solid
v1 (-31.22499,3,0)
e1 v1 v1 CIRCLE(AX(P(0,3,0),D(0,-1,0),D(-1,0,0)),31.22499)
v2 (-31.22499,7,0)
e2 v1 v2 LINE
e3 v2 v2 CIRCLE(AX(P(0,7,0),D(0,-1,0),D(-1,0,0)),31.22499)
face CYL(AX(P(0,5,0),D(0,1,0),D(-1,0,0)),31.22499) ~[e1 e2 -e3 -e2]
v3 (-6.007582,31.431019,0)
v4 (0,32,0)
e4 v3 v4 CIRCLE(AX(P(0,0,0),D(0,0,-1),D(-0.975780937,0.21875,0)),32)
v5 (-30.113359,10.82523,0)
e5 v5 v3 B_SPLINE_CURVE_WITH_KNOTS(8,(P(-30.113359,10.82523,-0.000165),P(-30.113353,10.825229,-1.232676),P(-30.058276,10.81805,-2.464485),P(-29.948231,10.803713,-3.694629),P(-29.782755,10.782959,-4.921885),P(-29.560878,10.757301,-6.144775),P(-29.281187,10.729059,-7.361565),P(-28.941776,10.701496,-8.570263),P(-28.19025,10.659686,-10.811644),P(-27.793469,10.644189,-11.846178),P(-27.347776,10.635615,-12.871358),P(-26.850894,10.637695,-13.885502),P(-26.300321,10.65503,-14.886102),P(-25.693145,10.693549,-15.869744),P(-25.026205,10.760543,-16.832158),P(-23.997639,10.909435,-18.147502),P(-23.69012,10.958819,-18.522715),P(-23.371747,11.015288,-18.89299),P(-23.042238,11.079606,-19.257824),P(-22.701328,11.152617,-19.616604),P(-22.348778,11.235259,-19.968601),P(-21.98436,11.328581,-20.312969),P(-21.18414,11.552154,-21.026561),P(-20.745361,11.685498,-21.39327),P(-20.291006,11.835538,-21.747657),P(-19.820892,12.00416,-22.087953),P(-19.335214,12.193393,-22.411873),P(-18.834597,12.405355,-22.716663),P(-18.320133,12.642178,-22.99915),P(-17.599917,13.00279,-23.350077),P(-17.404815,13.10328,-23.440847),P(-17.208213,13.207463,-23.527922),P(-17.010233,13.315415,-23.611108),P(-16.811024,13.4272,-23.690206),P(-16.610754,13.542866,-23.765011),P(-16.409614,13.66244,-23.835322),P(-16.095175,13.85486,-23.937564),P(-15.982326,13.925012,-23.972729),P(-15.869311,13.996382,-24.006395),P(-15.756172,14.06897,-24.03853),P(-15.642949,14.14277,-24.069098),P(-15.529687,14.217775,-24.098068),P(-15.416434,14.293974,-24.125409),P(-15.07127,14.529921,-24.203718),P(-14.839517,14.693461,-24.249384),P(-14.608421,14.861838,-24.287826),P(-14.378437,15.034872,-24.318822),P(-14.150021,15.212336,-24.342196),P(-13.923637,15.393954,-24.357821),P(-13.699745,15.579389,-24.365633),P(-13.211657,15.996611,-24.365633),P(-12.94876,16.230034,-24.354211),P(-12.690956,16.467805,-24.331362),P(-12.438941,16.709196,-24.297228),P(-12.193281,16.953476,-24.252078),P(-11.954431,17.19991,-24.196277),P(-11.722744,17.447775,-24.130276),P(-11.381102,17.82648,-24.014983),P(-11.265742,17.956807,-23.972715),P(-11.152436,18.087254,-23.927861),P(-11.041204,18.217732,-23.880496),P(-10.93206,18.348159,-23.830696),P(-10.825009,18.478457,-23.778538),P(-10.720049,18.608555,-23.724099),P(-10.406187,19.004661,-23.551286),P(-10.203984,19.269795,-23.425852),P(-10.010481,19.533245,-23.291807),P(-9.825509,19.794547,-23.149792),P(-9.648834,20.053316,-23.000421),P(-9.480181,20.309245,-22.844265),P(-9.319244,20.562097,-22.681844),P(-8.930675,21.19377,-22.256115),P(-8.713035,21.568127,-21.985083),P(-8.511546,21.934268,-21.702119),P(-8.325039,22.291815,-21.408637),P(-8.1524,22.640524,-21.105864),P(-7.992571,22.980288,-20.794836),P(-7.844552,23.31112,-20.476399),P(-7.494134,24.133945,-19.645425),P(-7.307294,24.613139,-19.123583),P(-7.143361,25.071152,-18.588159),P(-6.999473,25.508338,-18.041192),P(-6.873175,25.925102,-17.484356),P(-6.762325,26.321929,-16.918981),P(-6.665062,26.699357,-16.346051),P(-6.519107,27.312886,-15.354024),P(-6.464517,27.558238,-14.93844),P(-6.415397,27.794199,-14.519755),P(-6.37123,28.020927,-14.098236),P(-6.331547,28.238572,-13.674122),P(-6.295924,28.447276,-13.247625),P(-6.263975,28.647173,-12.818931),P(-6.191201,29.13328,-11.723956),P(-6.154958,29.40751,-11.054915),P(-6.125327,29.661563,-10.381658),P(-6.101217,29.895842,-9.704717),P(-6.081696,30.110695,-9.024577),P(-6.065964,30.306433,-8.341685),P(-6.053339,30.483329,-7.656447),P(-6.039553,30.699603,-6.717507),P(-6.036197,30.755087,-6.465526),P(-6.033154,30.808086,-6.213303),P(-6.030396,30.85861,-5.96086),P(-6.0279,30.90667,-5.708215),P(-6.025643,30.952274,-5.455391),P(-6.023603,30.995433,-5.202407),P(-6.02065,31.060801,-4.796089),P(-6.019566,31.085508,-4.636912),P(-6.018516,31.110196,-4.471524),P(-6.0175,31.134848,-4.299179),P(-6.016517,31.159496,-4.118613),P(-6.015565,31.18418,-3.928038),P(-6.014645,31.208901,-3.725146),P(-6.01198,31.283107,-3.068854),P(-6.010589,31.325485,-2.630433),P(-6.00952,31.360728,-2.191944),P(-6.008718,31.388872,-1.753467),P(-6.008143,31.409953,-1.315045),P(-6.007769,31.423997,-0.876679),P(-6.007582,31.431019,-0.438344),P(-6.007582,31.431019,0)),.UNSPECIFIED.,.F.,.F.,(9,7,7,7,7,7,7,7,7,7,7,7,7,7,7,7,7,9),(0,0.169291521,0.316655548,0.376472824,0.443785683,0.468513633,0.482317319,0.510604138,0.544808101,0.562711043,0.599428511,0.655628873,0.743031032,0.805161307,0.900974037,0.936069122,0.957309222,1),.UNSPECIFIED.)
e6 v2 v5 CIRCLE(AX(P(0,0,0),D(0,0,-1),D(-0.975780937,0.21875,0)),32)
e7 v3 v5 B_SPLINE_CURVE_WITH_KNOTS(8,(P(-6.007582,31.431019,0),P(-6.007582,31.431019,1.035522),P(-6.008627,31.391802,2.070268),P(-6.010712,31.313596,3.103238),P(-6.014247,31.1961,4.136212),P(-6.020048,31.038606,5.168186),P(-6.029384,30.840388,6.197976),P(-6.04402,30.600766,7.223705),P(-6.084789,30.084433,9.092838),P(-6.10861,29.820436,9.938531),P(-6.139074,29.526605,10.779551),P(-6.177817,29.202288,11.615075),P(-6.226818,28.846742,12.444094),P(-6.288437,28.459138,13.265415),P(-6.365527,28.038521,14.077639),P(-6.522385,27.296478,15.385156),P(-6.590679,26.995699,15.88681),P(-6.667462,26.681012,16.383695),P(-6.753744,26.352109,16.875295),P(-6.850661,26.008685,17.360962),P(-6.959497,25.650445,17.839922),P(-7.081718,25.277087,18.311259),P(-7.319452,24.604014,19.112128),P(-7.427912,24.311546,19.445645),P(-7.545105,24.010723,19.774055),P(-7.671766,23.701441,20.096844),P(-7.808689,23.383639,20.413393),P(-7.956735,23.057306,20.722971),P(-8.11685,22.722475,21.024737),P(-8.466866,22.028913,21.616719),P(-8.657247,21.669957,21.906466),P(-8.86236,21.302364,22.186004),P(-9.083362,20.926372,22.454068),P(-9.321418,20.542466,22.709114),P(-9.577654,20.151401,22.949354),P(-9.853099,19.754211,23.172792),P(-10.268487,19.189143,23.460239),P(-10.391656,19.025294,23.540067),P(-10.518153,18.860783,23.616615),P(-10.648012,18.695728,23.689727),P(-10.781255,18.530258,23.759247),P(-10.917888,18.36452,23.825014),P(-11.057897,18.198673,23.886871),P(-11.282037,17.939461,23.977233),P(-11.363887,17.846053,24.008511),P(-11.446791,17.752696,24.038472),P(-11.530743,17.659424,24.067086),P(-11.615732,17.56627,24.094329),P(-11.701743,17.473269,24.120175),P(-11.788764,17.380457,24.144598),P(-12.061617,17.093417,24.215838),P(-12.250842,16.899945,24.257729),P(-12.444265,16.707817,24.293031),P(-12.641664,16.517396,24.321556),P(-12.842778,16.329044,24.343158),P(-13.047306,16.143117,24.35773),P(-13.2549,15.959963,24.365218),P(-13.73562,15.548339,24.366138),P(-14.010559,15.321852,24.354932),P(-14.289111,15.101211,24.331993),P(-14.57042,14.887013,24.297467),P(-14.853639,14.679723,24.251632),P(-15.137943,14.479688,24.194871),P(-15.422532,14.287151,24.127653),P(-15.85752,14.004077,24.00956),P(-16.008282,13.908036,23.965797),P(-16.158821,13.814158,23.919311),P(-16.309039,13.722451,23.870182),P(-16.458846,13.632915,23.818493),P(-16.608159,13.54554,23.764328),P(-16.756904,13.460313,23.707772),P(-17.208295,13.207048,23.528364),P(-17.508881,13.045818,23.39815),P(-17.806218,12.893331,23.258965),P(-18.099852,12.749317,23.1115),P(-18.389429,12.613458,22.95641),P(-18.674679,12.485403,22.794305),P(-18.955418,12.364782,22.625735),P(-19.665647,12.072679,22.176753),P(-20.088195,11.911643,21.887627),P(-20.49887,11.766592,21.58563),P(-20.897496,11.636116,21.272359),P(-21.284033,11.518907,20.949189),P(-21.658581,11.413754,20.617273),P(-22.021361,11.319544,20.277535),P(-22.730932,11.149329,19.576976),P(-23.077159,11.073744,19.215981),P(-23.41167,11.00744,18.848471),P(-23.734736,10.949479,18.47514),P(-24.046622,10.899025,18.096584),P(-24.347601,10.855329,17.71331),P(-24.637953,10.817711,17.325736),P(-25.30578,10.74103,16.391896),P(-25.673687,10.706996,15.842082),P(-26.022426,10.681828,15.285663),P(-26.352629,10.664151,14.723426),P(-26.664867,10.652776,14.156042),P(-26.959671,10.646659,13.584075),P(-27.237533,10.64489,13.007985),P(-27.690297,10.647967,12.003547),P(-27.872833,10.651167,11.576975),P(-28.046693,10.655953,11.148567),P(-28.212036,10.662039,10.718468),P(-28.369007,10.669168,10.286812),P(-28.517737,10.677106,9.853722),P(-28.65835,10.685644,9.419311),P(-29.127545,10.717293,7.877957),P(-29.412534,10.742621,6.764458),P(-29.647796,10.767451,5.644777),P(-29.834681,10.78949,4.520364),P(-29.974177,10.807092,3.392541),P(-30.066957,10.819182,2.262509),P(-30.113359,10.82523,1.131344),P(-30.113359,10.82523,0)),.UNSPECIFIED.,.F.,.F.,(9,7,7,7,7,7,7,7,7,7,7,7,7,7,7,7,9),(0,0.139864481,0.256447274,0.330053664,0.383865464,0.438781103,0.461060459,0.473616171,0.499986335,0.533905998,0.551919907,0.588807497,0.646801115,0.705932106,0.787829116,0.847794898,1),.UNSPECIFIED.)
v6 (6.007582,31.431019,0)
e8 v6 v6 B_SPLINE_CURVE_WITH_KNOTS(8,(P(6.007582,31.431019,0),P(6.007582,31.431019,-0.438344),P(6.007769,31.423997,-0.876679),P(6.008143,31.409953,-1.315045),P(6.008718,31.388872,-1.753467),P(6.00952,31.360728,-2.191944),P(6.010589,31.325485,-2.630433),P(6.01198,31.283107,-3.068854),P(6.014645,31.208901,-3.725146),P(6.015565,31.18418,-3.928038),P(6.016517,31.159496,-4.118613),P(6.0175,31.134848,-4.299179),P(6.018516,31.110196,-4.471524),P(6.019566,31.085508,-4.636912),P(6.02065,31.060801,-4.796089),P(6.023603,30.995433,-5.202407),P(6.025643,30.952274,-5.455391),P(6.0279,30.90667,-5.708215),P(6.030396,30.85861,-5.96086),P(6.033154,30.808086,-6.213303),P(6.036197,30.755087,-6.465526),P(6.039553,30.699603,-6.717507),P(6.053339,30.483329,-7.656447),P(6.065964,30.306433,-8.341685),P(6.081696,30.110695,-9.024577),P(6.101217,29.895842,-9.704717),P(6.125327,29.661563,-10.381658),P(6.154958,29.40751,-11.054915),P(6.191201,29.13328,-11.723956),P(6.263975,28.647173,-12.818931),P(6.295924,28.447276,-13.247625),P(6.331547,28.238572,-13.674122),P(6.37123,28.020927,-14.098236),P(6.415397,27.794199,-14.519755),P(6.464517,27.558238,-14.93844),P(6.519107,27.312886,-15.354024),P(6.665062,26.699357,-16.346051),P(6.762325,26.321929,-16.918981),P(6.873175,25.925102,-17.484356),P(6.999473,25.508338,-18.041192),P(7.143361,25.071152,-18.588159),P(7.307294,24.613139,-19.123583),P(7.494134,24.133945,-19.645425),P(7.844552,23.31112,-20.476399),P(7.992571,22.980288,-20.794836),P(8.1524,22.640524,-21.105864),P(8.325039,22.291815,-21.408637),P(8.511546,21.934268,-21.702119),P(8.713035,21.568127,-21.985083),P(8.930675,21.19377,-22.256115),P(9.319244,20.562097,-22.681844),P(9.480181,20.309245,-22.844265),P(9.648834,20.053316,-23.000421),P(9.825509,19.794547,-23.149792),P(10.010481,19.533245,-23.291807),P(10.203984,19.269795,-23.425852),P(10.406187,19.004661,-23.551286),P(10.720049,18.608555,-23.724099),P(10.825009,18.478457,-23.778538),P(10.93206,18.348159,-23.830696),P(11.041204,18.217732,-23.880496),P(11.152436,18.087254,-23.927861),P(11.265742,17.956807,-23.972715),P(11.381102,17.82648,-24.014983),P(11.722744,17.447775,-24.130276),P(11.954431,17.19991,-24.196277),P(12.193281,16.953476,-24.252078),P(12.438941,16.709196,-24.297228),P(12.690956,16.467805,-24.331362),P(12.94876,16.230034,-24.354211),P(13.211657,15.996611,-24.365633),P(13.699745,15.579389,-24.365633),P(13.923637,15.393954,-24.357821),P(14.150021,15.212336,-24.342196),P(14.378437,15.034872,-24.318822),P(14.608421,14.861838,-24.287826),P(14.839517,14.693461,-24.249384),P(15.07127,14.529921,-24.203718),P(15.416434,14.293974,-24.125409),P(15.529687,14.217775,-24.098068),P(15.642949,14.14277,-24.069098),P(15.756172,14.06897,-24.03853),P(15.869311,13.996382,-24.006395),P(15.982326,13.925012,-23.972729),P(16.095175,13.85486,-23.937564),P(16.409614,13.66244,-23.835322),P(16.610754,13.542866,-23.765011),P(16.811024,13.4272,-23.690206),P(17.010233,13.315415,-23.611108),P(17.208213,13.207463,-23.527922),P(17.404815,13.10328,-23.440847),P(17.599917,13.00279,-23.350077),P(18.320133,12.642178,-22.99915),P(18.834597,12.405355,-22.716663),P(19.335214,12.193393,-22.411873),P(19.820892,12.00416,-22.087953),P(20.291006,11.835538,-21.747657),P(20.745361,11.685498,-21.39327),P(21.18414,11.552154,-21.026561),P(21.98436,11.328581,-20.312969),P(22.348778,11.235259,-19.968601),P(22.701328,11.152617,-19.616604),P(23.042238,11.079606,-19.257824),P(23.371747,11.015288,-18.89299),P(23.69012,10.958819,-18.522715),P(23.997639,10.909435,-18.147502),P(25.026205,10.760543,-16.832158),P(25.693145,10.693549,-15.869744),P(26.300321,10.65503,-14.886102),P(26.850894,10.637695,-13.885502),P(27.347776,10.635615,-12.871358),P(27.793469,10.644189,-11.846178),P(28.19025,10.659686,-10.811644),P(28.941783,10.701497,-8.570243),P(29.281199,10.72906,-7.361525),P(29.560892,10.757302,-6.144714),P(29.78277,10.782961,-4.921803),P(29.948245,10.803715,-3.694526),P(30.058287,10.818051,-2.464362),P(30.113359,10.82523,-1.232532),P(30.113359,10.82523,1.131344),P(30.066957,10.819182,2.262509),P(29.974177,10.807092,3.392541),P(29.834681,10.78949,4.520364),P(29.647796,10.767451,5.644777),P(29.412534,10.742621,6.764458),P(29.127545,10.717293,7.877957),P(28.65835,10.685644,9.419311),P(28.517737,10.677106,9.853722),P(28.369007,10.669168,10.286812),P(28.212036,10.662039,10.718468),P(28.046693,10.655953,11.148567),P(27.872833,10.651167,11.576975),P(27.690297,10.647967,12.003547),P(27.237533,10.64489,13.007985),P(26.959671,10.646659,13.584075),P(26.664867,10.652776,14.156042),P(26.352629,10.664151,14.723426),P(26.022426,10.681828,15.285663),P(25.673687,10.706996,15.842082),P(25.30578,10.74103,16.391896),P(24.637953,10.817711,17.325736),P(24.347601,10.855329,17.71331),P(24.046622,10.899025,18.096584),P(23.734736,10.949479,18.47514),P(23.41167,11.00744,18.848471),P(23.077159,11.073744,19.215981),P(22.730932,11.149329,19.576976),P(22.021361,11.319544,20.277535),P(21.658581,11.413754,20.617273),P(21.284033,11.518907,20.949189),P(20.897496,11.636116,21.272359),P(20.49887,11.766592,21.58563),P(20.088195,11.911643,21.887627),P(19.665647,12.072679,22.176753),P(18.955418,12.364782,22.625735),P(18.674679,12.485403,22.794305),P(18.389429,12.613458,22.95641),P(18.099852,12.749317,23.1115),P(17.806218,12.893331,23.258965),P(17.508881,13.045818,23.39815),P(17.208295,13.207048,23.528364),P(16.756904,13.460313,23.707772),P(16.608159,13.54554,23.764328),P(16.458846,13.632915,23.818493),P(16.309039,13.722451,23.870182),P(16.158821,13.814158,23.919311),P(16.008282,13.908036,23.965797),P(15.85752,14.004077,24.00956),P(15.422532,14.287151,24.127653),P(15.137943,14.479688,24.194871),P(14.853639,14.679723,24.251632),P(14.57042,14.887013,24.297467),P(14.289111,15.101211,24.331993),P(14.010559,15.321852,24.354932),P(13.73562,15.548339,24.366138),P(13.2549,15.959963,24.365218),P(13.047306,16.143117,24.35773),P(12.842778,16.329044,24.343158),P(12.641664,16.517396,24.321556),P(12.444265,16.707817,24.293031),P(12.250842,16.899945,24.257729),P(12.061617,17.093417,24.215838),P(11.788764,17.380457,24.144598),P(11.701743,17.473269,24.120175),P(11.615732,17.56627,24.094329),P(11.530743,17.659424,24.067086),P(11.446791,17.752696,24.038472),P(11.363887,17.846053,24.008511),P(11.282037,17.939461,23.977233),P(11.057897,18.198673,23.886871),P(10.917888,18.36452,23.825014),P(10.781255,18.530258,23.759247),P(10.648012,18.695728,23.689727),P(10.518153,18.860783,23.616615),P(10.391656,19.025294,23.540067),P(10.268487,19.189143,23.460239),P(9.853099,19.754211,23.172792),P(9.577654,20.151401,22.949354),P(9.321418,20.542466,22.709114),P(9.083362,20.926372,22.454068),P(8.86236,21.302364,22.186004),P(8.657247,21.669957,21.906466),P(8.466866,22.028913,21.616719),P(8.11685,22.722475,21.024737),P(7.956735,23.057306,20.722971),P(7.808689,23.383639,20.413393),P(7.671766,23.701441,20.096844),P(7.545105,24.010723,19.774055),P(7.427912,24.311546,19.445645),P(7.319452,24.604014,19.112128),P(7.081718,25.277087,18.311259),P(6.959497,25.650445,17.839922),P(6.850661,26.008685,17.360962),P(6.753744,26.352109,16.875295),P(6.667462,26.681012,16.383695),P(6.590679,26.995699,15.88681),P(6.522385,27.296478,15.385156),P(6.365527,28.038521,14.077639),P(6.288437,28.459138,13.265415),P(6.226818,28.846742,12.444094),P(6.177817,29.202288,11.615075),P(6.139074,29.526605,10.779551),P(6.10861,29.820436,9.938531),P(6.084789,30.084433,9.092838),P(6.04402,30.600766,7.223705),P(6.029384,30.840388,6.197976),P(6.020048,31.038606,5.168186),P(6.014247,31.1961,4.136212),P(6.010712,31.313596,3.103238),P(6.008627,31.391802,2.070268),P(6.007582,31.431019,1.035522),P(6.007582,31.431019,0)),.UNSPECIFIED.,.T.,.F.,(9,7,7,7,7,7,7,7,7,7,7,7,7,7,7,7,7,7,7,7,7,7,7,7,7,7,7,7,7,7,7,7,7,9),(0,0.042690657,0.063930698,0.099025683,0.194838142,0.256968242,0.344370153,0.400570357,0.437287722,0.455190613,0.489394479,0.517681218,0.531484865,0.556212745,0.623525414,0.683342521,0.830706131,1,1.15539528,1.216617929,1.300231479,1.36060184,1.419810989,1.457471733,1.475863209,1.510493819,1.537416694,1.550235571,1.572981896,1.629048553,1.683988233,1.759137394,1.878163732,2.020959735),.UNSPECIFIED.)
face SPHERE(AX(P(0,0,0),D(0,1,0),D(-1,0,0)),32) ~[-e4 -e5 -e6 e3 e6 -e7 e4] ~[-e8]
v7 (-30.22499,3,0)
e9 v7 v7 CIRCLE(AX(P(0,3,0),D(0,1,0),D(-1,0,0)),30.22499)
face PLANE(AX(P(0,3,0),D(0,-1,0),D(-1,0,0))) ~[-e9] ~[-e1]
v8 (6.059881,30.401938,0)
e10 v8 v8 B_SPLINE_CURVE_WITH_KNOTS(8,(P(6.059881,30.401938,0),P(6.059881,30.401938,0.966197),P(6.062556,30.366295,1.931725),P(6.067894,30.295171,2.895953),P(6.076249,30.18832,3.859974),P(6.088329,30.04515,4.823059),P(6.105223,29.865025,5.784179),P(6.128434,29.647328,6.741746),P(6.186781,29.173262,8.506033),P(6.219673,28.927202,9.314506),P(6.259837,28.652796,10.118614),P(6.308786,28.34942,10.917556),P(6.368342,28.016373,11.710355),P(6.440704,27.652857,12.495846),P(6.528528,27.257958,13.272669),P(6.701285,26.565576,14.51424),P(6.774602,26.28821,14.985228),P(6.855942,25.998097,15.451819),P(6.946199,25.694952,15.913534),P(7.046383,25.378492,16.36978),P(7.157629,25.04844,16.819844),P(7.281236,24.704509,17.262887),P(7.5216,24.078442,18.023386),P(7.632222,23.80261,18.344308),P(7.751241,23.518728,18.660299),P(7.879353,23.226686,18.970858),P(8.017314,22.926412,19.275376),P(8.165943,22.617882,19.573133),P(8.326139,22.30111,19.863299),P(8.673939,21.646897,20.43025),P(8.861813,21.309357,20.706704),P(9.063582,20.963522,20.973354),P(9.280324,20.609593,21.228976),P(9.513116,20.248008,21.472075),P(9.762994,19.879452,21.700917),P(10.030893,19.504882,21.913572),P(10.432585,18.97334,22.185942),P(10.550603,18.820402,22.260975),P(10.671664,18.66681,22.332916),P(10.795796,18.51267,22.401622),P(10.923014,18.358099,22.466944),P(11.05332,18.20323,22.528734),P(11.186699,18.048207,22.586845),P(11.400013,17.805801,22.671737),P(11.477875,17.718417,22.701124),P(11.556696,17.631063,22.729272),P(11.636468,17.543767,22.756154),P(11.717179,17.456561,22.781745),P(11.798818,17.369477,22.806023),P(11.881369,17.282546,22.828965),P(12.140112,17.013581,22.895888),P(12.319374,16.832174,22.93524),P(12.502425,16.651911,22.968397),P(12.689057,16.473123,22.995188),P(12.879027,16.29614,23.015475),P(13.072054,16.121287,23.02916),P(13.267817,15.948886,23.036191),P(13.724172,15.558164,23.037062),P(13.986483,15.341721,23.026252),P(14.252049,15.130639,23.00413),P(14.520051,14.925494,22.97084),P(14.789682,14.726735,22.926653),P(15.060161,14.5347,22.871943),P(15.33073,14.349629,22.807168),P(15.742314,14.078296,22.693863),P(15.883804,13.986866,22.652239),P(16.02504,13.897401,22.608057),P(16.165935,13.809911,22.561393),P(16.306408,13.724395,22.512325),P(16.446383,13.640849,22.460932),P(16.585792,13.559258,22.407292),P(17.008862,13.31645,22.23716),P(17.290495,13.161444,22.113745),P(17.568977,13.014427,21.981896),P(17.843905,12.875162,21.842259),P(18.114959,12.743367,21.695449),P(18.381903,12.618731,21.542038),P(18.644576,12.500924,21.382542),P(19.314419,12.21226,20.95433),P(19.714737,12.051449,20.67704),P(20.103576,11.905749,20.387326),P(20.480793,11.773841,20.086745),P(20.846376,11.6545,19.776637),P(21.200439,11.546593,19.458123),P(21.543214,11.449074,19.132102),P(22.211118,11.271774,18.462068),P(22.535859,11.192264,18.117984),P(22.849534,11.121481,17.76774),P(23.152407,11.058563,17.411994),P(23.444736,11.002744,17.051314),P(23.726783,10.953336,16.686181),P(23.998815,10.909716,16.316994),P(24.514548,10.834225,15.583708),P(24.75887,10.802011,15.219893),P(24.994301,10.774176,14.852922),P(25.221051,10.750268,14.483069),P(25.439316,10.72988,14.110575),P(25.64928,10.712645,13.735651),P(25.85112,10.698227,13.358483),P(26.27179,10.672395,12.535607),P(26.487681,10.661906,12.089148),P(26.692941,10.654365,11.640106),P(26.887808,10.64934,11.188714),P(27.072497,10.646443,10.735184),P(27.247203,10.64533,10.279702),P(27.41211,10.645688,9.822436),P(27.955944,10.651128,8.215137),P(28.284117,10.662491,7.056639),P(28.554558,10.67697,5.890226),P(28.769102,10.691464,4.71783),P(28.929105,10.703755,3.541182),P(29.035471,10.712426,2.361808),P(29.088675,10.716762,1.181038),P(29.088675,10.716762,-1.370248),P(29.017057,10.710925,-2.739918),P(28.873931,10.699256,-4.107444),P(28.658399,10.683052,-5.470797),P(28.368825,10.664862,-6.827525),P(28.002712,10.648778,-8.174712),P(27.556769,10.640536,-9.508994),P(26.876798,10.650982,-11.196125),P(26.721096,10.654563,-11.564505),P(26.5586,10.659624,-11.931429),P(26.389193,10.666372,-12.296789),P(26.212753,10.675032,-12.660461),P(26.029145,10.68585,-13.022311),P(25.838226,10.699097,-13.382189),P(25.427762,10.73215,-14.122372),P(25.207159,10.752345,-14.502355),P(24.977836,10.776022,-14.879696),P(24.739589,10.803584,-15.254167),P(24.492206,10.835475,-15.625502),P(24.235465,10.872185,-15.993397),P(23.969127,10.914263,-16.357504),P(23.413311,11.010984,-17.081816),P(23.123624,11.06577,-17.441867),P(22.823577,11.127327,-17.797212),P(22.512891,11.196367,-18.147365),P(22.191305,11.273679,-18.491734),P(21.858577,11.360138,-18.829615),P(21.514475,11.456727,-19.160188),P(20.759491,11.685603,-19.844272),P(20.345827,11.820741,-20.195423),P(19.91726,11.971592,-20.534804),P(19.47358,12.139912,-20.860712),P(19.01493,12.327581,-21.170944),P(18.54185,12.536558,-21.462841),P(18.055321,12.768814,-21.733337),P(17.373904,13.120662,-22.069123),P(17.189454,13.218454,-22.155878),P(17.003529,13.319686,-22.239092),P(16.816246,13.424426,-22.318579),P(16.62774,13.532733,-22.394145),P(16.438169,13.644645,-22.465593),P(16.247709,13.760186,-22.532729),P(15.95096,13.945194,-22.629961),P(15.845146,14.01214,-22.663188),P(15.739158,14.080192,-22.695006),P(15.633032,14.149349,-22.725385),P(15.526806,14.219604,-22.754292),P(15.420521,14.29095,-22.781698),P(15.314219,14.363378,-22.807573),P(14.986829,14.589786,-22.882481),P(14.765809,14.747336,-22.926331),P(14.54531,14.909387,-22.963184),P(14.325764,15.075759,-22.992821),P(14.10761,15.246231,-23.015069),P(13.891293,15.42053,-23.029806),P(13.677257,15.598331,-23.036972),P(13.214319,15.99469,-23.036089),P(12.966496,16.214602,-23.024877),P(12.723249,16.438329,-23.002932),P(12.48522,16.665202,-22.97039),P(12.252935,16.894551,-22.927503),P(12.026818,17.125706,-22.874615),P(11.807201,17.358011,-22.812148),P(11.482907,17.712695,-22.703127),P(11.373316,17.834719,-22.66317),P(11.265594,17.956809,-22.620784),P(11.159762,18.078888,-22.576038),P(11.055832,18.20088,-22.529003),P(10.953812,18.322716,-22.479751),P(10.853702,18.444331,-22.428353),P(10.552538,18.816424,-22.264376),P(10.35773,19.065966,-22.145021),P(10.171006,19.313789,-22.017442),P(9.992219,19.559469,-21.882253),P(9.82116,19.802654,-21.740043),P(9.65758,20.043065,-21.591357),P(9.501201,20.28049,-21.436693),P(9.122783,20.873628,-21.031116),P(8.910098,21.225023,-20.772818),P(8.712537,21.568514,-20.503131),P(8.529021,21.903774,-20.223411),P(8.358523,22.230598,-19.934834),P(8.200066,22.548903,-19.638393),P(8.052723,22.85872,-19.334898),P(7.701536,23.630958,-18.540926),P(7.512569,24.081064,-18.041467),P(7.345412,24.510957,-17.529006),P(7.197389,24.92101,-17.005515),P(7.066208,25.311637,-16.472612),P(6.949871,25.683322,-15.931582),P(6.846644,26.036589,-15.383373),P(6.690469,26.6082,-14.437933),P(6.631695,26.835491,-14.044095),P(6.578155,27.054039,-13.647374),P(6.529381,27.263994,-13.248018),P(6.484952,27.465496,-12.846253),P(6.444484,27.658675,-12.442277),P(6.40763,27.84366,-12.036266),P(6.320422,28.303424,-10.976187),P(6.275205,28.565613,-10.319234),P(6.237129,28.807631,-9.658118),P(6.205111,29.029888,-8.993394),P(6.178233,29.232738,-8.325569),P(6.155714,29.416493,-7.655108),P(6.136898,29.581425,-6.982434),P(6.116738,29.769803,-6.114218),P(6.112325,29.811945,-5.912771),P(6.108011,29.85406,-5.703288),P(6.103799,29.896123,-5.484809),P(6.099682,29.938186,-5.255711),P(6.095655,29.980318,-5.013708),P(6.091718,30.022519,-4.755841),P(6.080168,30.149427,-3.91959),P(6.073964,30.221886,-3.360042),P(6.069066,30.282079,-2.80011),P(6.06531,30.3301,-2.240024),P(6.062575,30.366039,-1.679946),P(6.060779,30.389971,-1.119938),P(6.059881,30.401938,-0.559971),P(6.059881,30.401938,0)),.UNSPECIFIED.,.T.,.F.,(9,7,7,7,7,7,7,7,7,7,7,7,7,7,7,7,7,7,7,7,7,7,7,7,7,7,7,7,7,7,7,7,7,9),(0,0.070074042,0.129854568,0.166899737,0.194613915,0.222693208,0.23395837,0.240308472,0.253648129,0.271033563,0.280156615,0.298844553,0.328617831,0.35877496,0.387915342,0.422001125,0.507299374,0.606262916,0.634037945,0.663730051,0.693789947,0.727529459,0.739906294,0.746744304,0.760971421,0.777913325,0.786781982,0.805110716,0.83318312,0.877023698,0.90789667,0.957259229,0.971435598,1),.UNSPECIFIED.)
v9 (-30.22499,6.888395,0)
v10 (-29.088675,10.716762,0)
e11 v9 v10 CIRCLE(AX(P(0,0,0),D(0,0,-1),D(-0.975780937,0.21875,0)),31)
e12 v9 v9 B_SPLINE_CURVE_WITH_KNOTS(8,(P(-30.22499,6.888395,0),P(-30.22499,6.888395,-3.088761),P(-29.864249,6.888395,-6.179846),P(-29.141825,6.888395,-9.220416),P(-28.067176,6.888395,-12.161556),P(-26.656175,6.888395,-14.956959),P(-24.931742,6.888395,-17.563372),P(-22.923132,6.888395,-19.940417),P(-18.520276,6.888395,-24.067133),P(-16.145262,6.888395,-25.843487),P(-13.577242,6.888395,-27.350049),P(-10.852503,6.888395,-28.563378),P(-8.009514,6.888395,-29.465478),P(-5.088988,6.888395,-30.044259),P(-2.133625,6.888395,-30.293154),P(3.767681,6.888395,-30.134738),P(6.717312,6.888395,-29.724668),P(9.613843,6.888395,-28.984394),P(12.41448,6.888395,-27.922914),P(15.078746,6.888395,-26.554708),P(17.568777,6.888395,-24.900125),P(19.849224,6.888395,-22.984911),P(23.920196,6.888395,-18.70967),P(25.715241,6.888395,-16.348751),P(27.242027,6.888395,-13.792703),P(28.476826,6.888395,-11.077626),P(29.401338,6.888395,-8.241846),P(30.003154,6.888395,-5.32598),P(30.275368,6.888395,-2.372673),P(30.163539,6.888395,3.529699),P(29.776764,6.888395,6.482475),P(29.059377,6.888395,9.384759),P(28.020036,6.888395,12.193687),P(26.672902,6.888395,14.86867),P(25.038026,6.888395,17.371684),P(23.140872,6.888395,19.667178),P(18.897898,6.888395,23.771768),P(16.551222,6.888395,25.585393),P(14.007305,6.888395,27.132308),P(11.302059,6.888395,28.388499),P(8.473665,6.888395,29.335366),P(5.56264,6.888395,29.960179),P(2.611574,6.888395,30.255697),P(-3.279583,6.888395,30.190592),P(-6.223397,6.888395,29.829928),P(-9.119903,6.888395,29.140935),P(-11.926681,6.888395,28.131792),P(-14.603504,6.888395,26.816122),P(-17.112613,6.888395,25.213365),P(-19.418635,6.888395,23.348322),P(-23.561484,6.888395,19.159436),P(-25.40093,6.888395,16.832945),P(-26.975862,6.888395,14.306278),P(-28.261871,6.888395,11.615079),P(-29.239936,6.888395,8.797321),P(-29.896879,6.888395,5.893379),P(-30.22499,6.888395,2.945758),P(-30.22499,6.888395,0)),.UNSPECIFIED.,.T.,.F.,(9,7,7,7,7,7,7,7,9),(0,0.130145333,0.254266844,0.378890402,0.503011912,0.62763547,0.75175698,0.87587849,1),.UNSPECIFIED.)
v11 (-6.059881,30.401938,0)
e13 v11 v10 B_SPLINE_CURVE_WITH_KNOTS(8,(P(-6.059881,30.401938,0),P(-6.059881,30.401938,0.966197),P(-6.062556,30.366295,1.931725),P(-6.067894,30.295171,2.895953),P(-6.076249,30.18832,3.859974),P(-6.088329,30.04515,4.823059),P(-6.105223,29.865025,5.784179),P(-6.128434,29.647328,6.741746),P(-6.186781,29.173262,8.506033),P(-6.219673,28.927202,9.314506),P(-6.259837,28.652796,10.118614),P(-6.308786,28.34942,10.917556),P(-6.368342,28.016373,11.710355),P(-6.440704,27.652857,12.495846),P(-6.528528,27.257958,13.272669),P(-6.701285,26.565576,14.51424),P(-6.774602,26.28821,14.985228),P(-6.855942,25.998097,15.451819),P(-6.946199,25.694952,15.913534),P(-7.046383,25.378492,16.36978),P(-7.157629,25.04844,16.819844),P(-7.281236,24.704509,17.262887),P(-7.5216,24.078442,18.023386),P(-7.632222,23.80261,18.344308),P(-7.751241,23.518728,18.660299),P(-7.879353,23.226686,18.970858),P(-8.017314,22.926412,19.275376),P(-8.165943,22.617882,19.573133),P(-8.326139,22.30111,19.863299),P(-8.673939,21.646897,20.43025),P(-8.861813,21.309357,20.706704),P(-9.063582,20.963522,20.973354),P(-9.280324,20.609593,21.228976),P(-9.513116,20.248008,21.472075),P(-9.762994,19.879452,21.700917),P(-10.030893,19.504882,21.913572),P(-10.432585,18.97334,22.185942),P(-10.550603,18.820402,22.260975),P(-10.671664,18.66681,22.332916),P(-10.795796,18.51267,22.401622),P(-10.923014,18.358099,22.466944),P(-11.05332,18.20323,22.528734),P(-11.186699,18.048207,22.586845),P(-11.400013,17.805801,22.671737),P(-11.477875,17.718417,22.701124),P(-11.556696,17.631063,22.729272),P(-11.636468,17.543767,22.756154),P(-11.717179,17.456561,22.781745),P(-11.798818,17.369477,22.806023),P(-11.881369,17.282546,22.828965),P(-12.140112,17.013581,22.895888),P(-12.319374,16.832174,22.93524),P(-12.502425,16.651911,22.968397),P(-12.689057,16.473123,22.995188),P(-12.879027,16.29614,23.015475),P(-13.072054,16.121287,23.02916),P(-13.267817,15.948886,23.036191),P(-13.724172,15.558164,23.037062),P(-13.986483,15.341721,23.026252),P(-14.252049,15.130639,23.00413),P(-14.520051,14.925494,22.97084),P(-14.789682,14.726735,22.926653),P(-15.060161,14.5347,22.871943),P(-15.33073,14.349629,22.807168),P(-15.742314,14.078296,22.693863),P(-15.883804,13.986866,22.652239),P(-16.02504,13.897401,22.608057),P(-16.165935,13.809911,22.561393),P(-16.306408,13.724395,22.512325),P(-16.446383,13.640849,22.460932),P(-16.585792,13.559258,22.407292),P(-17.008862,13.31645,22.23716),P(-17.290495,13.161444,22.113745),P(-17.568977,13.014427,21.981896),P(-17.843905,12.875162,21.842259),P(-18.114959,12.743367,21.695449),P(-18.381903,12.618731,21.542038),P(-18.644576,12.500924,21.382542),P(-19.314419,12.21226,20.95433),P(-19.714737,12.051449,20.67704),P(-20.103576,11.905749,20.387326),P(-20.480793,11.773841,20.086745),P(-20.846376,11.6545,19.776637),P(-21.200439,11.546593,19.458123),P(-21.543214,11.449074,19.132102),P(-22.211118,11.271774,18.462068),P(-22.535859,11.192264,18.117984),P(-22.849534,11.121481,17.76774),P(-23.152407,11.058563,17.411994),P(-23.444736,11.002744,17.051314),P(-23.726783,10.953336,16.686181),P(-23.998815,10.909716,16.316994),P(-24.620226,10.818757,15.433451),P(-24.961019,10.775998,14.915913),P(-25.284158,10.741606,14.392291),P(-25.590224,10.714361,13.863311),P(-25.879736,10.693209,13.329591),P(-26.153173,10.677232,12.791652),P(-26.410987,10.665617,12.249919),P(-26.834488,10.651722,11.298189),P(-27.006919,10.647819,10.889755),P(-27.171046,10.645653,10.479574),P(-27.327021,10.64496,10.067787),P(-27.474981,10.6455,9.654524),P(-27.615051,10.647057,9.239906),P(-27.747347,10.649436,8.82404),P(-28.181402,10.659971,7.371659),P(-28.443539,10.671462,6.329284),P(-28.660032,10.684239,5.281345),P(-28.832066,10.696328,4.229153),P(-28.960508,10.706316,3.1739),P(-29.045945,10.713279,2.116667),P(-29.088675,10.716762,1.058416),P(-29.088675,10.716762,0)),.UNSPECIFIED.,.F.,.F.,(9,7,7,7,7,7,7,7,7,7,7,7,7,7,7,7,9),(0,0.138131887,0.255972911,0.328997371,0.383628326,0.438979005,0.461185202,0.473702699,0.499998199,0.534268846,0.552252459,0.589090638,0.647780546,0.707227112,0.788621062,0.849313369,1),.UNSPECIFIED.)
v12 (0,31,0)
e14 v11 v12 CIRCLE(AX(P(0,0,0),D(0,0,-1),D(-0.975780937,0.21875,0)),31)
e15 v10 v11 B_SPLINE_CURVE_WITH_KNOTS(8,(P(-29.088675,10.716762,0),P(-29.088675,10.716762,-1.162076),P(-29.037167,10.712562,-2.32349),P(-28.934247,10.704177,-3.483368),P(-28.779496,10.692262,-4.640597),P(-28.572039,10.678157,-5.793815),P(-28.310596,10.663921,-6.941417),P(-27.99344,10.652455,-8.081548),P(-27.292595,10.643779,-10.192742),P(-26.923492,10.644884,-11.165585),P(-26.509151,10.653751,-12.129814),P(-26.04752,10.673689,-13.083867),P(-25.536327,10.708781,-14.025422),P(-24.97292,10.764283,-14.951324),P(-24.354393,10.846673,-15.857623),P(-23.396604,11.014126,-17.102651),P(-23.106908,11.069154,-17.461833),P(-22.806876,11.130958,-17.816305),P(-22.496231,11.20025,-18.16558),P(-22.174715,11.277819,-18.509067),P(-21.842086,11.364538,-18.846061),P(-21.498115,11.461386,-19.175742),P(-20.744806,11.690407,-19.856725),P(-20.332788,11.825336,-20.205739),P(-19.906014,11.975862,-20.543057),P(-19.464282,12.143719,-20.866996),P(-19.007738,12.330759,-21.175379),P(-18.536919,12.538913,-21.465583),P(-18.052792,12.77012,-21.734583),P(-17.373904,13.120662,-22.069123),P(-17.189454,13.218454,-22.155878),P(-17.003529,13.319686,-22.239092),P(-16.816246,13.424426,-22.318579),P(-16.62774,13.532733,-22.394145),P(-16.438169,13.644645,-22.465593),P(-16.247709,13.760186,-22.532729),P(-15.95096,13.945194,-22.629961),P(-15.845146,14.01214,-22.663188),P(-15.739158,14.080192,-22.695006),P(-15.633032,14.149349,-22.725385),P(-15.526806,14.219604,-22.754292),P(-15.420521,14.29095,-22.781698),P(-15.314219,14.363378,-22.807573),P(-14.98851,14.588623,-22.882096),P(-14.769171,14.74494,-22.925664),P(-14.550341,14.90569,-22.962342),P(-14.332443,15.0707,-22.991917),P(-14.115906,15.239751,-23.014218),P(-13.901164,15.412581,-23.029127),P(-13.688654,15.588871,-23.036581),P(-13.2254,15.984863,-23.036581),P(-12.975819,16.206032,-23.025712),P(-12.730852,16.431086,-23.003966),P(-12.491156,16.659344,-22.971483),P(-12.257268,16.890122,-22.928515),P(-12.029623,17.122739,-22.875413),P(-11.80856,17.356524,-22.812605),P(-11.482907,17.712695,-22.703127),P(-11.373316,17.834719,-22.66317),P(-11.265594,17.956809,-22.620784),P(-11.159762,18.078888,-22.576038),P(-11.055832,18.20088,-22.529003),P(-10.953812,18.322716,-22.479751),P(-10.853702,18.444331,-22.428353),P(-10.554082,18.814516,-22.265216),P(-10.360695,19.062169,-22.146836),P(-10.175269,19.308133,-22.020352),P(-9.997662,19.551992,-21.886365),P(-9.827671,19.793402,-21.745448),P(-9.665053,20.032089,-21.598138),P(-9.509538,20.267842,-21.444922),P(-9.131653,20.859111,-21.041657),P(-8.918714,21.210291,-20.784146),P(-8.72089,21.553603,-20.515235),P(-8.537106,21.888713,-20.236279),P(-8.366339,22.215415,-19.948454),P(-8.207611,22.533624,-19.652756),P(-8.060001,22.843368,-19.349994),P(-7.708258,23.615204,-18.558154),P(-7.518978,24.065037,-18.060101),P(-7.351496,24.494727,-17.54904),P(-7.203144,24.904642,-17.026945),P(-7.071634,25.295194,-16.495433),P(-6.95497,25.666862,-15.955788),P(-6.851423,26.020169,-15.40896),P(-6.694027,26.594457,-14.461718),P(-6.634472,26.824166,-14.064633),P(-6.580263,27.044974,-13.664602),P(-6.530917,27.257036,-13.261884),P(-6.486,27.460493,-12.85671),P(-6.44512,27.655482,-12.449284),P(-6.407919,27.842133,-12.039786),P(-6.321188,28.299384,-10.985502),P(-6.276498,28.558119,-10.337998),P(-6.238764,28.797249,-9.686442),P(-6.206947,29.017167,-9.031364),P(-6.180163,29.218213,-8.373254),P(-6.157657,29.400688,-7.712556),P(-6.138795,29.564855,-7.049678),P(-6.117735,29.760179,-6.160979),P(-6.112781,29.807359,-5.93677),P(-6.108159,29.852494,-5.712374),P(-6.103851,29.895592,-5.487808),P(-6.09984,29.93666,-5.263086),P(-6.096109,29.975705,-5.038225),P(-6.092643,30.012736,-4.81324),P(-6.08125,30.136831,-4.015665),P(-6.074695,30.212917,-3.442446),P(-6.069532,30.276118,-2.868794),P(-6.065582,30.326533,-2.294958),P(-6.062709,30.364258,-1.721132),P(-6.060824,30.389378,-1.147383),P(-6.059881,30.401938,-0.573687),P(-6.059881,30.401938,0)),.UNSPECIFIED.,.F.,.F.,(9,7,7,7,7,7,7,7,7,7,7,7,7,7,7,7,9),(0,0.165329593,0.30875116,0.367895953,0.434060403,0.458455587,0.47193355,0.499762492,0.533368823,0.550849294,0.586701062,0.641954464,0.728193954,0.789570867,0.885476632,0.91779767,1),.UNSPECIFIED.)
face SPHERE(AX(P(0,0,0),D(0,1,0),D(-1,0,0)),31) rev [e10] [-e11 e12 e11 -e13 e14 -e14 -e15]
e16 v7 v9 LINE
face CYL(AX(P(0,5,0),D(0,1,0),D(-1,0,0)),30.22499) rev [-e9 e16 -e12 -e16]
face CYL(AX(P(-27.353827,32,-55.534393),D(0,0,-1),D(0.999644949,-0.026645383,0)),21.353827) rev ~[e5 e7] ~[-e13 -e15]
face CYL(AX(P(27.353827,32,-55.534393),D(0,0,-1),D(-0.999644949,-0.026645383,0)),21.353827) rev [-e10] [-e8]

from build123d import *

# Parameters (mm, degrees)
SKETCH_7_W               = 31.224989992
SKETCH_7_H               = 4
SHELL_2_T                = -1
CUT_EXTRUDE_4_DEPTH      = 55.534392818
CUT_EXTRUDE_4_DEPTH_BACK = 55.534392818


with BuildPart() as part:
    # 草图7 → 旋转12 (revolve)
    with BuildSketch(Plane.XY, mode=Mode.PRIVATE) as revolve_12_sk:
        with BuildLine():
            ThreePointArc((31.224989992, 7), (20, 24.979991994), (0, 32))
            Line((0, 32), (0, 7))
            Line((0, 7), (31.224989992, 7))
        make_face()
        with Locations((15.612494996, 5)):
            Rectangle(SKETCH_7_W, SKETCH_7_H)
    revolve(revolve_12_sk.sketch.rotate(Axis((0, 32, 0), (0, -1, 0)), 180), axis=Axis((0, 32, 0), (0, -1, 0)))

    # 抽壳2
    shell_2_openings = [part.faces().sort_by_distance(p)[0] for p in [
        (0, 3, 0),
    ]]
    offset(amount=SHELL_2_T, openings=shell_2_openings, kind=Kind.INTERSECTION)

    # 草图9 → 切除-拉伸4 (cut, two sides: drawn at the far end of the back side and taken through both)
    with BuildSketch(Plane.XY.offset(-CUT_EXTRUDE_4_DEPTH_BACK)):
        with BuildLine():
            ThreePointArc((-6.007581703, 31.431019107), (-13.478809235, 15.768247098), (-30.113359103, 10.825229952))
            ThreePointArc((-30.113359103, 10.825229952), (-20.792552221, 24.324263034), (-6.007581703, 31.431019107))
        make_face()
        with BuildLine():
            ThreePointArc((30.113359103, 10.825229952), (20.792552221, 24.324263034), (6.007581703, 31.431019107))
            ThreePointArc((6.007581703, 31.431019107), (13.478809235, 15.768247098), (30.113359103, 10.825229952))
        make_face()
    extrude(amount=CUT_EXTRUDE_4_DEPTH + CUT_EXTRUDE_4_DEPTH_BACK, mode=Mode.SUBTRACT)


solid = part.part
